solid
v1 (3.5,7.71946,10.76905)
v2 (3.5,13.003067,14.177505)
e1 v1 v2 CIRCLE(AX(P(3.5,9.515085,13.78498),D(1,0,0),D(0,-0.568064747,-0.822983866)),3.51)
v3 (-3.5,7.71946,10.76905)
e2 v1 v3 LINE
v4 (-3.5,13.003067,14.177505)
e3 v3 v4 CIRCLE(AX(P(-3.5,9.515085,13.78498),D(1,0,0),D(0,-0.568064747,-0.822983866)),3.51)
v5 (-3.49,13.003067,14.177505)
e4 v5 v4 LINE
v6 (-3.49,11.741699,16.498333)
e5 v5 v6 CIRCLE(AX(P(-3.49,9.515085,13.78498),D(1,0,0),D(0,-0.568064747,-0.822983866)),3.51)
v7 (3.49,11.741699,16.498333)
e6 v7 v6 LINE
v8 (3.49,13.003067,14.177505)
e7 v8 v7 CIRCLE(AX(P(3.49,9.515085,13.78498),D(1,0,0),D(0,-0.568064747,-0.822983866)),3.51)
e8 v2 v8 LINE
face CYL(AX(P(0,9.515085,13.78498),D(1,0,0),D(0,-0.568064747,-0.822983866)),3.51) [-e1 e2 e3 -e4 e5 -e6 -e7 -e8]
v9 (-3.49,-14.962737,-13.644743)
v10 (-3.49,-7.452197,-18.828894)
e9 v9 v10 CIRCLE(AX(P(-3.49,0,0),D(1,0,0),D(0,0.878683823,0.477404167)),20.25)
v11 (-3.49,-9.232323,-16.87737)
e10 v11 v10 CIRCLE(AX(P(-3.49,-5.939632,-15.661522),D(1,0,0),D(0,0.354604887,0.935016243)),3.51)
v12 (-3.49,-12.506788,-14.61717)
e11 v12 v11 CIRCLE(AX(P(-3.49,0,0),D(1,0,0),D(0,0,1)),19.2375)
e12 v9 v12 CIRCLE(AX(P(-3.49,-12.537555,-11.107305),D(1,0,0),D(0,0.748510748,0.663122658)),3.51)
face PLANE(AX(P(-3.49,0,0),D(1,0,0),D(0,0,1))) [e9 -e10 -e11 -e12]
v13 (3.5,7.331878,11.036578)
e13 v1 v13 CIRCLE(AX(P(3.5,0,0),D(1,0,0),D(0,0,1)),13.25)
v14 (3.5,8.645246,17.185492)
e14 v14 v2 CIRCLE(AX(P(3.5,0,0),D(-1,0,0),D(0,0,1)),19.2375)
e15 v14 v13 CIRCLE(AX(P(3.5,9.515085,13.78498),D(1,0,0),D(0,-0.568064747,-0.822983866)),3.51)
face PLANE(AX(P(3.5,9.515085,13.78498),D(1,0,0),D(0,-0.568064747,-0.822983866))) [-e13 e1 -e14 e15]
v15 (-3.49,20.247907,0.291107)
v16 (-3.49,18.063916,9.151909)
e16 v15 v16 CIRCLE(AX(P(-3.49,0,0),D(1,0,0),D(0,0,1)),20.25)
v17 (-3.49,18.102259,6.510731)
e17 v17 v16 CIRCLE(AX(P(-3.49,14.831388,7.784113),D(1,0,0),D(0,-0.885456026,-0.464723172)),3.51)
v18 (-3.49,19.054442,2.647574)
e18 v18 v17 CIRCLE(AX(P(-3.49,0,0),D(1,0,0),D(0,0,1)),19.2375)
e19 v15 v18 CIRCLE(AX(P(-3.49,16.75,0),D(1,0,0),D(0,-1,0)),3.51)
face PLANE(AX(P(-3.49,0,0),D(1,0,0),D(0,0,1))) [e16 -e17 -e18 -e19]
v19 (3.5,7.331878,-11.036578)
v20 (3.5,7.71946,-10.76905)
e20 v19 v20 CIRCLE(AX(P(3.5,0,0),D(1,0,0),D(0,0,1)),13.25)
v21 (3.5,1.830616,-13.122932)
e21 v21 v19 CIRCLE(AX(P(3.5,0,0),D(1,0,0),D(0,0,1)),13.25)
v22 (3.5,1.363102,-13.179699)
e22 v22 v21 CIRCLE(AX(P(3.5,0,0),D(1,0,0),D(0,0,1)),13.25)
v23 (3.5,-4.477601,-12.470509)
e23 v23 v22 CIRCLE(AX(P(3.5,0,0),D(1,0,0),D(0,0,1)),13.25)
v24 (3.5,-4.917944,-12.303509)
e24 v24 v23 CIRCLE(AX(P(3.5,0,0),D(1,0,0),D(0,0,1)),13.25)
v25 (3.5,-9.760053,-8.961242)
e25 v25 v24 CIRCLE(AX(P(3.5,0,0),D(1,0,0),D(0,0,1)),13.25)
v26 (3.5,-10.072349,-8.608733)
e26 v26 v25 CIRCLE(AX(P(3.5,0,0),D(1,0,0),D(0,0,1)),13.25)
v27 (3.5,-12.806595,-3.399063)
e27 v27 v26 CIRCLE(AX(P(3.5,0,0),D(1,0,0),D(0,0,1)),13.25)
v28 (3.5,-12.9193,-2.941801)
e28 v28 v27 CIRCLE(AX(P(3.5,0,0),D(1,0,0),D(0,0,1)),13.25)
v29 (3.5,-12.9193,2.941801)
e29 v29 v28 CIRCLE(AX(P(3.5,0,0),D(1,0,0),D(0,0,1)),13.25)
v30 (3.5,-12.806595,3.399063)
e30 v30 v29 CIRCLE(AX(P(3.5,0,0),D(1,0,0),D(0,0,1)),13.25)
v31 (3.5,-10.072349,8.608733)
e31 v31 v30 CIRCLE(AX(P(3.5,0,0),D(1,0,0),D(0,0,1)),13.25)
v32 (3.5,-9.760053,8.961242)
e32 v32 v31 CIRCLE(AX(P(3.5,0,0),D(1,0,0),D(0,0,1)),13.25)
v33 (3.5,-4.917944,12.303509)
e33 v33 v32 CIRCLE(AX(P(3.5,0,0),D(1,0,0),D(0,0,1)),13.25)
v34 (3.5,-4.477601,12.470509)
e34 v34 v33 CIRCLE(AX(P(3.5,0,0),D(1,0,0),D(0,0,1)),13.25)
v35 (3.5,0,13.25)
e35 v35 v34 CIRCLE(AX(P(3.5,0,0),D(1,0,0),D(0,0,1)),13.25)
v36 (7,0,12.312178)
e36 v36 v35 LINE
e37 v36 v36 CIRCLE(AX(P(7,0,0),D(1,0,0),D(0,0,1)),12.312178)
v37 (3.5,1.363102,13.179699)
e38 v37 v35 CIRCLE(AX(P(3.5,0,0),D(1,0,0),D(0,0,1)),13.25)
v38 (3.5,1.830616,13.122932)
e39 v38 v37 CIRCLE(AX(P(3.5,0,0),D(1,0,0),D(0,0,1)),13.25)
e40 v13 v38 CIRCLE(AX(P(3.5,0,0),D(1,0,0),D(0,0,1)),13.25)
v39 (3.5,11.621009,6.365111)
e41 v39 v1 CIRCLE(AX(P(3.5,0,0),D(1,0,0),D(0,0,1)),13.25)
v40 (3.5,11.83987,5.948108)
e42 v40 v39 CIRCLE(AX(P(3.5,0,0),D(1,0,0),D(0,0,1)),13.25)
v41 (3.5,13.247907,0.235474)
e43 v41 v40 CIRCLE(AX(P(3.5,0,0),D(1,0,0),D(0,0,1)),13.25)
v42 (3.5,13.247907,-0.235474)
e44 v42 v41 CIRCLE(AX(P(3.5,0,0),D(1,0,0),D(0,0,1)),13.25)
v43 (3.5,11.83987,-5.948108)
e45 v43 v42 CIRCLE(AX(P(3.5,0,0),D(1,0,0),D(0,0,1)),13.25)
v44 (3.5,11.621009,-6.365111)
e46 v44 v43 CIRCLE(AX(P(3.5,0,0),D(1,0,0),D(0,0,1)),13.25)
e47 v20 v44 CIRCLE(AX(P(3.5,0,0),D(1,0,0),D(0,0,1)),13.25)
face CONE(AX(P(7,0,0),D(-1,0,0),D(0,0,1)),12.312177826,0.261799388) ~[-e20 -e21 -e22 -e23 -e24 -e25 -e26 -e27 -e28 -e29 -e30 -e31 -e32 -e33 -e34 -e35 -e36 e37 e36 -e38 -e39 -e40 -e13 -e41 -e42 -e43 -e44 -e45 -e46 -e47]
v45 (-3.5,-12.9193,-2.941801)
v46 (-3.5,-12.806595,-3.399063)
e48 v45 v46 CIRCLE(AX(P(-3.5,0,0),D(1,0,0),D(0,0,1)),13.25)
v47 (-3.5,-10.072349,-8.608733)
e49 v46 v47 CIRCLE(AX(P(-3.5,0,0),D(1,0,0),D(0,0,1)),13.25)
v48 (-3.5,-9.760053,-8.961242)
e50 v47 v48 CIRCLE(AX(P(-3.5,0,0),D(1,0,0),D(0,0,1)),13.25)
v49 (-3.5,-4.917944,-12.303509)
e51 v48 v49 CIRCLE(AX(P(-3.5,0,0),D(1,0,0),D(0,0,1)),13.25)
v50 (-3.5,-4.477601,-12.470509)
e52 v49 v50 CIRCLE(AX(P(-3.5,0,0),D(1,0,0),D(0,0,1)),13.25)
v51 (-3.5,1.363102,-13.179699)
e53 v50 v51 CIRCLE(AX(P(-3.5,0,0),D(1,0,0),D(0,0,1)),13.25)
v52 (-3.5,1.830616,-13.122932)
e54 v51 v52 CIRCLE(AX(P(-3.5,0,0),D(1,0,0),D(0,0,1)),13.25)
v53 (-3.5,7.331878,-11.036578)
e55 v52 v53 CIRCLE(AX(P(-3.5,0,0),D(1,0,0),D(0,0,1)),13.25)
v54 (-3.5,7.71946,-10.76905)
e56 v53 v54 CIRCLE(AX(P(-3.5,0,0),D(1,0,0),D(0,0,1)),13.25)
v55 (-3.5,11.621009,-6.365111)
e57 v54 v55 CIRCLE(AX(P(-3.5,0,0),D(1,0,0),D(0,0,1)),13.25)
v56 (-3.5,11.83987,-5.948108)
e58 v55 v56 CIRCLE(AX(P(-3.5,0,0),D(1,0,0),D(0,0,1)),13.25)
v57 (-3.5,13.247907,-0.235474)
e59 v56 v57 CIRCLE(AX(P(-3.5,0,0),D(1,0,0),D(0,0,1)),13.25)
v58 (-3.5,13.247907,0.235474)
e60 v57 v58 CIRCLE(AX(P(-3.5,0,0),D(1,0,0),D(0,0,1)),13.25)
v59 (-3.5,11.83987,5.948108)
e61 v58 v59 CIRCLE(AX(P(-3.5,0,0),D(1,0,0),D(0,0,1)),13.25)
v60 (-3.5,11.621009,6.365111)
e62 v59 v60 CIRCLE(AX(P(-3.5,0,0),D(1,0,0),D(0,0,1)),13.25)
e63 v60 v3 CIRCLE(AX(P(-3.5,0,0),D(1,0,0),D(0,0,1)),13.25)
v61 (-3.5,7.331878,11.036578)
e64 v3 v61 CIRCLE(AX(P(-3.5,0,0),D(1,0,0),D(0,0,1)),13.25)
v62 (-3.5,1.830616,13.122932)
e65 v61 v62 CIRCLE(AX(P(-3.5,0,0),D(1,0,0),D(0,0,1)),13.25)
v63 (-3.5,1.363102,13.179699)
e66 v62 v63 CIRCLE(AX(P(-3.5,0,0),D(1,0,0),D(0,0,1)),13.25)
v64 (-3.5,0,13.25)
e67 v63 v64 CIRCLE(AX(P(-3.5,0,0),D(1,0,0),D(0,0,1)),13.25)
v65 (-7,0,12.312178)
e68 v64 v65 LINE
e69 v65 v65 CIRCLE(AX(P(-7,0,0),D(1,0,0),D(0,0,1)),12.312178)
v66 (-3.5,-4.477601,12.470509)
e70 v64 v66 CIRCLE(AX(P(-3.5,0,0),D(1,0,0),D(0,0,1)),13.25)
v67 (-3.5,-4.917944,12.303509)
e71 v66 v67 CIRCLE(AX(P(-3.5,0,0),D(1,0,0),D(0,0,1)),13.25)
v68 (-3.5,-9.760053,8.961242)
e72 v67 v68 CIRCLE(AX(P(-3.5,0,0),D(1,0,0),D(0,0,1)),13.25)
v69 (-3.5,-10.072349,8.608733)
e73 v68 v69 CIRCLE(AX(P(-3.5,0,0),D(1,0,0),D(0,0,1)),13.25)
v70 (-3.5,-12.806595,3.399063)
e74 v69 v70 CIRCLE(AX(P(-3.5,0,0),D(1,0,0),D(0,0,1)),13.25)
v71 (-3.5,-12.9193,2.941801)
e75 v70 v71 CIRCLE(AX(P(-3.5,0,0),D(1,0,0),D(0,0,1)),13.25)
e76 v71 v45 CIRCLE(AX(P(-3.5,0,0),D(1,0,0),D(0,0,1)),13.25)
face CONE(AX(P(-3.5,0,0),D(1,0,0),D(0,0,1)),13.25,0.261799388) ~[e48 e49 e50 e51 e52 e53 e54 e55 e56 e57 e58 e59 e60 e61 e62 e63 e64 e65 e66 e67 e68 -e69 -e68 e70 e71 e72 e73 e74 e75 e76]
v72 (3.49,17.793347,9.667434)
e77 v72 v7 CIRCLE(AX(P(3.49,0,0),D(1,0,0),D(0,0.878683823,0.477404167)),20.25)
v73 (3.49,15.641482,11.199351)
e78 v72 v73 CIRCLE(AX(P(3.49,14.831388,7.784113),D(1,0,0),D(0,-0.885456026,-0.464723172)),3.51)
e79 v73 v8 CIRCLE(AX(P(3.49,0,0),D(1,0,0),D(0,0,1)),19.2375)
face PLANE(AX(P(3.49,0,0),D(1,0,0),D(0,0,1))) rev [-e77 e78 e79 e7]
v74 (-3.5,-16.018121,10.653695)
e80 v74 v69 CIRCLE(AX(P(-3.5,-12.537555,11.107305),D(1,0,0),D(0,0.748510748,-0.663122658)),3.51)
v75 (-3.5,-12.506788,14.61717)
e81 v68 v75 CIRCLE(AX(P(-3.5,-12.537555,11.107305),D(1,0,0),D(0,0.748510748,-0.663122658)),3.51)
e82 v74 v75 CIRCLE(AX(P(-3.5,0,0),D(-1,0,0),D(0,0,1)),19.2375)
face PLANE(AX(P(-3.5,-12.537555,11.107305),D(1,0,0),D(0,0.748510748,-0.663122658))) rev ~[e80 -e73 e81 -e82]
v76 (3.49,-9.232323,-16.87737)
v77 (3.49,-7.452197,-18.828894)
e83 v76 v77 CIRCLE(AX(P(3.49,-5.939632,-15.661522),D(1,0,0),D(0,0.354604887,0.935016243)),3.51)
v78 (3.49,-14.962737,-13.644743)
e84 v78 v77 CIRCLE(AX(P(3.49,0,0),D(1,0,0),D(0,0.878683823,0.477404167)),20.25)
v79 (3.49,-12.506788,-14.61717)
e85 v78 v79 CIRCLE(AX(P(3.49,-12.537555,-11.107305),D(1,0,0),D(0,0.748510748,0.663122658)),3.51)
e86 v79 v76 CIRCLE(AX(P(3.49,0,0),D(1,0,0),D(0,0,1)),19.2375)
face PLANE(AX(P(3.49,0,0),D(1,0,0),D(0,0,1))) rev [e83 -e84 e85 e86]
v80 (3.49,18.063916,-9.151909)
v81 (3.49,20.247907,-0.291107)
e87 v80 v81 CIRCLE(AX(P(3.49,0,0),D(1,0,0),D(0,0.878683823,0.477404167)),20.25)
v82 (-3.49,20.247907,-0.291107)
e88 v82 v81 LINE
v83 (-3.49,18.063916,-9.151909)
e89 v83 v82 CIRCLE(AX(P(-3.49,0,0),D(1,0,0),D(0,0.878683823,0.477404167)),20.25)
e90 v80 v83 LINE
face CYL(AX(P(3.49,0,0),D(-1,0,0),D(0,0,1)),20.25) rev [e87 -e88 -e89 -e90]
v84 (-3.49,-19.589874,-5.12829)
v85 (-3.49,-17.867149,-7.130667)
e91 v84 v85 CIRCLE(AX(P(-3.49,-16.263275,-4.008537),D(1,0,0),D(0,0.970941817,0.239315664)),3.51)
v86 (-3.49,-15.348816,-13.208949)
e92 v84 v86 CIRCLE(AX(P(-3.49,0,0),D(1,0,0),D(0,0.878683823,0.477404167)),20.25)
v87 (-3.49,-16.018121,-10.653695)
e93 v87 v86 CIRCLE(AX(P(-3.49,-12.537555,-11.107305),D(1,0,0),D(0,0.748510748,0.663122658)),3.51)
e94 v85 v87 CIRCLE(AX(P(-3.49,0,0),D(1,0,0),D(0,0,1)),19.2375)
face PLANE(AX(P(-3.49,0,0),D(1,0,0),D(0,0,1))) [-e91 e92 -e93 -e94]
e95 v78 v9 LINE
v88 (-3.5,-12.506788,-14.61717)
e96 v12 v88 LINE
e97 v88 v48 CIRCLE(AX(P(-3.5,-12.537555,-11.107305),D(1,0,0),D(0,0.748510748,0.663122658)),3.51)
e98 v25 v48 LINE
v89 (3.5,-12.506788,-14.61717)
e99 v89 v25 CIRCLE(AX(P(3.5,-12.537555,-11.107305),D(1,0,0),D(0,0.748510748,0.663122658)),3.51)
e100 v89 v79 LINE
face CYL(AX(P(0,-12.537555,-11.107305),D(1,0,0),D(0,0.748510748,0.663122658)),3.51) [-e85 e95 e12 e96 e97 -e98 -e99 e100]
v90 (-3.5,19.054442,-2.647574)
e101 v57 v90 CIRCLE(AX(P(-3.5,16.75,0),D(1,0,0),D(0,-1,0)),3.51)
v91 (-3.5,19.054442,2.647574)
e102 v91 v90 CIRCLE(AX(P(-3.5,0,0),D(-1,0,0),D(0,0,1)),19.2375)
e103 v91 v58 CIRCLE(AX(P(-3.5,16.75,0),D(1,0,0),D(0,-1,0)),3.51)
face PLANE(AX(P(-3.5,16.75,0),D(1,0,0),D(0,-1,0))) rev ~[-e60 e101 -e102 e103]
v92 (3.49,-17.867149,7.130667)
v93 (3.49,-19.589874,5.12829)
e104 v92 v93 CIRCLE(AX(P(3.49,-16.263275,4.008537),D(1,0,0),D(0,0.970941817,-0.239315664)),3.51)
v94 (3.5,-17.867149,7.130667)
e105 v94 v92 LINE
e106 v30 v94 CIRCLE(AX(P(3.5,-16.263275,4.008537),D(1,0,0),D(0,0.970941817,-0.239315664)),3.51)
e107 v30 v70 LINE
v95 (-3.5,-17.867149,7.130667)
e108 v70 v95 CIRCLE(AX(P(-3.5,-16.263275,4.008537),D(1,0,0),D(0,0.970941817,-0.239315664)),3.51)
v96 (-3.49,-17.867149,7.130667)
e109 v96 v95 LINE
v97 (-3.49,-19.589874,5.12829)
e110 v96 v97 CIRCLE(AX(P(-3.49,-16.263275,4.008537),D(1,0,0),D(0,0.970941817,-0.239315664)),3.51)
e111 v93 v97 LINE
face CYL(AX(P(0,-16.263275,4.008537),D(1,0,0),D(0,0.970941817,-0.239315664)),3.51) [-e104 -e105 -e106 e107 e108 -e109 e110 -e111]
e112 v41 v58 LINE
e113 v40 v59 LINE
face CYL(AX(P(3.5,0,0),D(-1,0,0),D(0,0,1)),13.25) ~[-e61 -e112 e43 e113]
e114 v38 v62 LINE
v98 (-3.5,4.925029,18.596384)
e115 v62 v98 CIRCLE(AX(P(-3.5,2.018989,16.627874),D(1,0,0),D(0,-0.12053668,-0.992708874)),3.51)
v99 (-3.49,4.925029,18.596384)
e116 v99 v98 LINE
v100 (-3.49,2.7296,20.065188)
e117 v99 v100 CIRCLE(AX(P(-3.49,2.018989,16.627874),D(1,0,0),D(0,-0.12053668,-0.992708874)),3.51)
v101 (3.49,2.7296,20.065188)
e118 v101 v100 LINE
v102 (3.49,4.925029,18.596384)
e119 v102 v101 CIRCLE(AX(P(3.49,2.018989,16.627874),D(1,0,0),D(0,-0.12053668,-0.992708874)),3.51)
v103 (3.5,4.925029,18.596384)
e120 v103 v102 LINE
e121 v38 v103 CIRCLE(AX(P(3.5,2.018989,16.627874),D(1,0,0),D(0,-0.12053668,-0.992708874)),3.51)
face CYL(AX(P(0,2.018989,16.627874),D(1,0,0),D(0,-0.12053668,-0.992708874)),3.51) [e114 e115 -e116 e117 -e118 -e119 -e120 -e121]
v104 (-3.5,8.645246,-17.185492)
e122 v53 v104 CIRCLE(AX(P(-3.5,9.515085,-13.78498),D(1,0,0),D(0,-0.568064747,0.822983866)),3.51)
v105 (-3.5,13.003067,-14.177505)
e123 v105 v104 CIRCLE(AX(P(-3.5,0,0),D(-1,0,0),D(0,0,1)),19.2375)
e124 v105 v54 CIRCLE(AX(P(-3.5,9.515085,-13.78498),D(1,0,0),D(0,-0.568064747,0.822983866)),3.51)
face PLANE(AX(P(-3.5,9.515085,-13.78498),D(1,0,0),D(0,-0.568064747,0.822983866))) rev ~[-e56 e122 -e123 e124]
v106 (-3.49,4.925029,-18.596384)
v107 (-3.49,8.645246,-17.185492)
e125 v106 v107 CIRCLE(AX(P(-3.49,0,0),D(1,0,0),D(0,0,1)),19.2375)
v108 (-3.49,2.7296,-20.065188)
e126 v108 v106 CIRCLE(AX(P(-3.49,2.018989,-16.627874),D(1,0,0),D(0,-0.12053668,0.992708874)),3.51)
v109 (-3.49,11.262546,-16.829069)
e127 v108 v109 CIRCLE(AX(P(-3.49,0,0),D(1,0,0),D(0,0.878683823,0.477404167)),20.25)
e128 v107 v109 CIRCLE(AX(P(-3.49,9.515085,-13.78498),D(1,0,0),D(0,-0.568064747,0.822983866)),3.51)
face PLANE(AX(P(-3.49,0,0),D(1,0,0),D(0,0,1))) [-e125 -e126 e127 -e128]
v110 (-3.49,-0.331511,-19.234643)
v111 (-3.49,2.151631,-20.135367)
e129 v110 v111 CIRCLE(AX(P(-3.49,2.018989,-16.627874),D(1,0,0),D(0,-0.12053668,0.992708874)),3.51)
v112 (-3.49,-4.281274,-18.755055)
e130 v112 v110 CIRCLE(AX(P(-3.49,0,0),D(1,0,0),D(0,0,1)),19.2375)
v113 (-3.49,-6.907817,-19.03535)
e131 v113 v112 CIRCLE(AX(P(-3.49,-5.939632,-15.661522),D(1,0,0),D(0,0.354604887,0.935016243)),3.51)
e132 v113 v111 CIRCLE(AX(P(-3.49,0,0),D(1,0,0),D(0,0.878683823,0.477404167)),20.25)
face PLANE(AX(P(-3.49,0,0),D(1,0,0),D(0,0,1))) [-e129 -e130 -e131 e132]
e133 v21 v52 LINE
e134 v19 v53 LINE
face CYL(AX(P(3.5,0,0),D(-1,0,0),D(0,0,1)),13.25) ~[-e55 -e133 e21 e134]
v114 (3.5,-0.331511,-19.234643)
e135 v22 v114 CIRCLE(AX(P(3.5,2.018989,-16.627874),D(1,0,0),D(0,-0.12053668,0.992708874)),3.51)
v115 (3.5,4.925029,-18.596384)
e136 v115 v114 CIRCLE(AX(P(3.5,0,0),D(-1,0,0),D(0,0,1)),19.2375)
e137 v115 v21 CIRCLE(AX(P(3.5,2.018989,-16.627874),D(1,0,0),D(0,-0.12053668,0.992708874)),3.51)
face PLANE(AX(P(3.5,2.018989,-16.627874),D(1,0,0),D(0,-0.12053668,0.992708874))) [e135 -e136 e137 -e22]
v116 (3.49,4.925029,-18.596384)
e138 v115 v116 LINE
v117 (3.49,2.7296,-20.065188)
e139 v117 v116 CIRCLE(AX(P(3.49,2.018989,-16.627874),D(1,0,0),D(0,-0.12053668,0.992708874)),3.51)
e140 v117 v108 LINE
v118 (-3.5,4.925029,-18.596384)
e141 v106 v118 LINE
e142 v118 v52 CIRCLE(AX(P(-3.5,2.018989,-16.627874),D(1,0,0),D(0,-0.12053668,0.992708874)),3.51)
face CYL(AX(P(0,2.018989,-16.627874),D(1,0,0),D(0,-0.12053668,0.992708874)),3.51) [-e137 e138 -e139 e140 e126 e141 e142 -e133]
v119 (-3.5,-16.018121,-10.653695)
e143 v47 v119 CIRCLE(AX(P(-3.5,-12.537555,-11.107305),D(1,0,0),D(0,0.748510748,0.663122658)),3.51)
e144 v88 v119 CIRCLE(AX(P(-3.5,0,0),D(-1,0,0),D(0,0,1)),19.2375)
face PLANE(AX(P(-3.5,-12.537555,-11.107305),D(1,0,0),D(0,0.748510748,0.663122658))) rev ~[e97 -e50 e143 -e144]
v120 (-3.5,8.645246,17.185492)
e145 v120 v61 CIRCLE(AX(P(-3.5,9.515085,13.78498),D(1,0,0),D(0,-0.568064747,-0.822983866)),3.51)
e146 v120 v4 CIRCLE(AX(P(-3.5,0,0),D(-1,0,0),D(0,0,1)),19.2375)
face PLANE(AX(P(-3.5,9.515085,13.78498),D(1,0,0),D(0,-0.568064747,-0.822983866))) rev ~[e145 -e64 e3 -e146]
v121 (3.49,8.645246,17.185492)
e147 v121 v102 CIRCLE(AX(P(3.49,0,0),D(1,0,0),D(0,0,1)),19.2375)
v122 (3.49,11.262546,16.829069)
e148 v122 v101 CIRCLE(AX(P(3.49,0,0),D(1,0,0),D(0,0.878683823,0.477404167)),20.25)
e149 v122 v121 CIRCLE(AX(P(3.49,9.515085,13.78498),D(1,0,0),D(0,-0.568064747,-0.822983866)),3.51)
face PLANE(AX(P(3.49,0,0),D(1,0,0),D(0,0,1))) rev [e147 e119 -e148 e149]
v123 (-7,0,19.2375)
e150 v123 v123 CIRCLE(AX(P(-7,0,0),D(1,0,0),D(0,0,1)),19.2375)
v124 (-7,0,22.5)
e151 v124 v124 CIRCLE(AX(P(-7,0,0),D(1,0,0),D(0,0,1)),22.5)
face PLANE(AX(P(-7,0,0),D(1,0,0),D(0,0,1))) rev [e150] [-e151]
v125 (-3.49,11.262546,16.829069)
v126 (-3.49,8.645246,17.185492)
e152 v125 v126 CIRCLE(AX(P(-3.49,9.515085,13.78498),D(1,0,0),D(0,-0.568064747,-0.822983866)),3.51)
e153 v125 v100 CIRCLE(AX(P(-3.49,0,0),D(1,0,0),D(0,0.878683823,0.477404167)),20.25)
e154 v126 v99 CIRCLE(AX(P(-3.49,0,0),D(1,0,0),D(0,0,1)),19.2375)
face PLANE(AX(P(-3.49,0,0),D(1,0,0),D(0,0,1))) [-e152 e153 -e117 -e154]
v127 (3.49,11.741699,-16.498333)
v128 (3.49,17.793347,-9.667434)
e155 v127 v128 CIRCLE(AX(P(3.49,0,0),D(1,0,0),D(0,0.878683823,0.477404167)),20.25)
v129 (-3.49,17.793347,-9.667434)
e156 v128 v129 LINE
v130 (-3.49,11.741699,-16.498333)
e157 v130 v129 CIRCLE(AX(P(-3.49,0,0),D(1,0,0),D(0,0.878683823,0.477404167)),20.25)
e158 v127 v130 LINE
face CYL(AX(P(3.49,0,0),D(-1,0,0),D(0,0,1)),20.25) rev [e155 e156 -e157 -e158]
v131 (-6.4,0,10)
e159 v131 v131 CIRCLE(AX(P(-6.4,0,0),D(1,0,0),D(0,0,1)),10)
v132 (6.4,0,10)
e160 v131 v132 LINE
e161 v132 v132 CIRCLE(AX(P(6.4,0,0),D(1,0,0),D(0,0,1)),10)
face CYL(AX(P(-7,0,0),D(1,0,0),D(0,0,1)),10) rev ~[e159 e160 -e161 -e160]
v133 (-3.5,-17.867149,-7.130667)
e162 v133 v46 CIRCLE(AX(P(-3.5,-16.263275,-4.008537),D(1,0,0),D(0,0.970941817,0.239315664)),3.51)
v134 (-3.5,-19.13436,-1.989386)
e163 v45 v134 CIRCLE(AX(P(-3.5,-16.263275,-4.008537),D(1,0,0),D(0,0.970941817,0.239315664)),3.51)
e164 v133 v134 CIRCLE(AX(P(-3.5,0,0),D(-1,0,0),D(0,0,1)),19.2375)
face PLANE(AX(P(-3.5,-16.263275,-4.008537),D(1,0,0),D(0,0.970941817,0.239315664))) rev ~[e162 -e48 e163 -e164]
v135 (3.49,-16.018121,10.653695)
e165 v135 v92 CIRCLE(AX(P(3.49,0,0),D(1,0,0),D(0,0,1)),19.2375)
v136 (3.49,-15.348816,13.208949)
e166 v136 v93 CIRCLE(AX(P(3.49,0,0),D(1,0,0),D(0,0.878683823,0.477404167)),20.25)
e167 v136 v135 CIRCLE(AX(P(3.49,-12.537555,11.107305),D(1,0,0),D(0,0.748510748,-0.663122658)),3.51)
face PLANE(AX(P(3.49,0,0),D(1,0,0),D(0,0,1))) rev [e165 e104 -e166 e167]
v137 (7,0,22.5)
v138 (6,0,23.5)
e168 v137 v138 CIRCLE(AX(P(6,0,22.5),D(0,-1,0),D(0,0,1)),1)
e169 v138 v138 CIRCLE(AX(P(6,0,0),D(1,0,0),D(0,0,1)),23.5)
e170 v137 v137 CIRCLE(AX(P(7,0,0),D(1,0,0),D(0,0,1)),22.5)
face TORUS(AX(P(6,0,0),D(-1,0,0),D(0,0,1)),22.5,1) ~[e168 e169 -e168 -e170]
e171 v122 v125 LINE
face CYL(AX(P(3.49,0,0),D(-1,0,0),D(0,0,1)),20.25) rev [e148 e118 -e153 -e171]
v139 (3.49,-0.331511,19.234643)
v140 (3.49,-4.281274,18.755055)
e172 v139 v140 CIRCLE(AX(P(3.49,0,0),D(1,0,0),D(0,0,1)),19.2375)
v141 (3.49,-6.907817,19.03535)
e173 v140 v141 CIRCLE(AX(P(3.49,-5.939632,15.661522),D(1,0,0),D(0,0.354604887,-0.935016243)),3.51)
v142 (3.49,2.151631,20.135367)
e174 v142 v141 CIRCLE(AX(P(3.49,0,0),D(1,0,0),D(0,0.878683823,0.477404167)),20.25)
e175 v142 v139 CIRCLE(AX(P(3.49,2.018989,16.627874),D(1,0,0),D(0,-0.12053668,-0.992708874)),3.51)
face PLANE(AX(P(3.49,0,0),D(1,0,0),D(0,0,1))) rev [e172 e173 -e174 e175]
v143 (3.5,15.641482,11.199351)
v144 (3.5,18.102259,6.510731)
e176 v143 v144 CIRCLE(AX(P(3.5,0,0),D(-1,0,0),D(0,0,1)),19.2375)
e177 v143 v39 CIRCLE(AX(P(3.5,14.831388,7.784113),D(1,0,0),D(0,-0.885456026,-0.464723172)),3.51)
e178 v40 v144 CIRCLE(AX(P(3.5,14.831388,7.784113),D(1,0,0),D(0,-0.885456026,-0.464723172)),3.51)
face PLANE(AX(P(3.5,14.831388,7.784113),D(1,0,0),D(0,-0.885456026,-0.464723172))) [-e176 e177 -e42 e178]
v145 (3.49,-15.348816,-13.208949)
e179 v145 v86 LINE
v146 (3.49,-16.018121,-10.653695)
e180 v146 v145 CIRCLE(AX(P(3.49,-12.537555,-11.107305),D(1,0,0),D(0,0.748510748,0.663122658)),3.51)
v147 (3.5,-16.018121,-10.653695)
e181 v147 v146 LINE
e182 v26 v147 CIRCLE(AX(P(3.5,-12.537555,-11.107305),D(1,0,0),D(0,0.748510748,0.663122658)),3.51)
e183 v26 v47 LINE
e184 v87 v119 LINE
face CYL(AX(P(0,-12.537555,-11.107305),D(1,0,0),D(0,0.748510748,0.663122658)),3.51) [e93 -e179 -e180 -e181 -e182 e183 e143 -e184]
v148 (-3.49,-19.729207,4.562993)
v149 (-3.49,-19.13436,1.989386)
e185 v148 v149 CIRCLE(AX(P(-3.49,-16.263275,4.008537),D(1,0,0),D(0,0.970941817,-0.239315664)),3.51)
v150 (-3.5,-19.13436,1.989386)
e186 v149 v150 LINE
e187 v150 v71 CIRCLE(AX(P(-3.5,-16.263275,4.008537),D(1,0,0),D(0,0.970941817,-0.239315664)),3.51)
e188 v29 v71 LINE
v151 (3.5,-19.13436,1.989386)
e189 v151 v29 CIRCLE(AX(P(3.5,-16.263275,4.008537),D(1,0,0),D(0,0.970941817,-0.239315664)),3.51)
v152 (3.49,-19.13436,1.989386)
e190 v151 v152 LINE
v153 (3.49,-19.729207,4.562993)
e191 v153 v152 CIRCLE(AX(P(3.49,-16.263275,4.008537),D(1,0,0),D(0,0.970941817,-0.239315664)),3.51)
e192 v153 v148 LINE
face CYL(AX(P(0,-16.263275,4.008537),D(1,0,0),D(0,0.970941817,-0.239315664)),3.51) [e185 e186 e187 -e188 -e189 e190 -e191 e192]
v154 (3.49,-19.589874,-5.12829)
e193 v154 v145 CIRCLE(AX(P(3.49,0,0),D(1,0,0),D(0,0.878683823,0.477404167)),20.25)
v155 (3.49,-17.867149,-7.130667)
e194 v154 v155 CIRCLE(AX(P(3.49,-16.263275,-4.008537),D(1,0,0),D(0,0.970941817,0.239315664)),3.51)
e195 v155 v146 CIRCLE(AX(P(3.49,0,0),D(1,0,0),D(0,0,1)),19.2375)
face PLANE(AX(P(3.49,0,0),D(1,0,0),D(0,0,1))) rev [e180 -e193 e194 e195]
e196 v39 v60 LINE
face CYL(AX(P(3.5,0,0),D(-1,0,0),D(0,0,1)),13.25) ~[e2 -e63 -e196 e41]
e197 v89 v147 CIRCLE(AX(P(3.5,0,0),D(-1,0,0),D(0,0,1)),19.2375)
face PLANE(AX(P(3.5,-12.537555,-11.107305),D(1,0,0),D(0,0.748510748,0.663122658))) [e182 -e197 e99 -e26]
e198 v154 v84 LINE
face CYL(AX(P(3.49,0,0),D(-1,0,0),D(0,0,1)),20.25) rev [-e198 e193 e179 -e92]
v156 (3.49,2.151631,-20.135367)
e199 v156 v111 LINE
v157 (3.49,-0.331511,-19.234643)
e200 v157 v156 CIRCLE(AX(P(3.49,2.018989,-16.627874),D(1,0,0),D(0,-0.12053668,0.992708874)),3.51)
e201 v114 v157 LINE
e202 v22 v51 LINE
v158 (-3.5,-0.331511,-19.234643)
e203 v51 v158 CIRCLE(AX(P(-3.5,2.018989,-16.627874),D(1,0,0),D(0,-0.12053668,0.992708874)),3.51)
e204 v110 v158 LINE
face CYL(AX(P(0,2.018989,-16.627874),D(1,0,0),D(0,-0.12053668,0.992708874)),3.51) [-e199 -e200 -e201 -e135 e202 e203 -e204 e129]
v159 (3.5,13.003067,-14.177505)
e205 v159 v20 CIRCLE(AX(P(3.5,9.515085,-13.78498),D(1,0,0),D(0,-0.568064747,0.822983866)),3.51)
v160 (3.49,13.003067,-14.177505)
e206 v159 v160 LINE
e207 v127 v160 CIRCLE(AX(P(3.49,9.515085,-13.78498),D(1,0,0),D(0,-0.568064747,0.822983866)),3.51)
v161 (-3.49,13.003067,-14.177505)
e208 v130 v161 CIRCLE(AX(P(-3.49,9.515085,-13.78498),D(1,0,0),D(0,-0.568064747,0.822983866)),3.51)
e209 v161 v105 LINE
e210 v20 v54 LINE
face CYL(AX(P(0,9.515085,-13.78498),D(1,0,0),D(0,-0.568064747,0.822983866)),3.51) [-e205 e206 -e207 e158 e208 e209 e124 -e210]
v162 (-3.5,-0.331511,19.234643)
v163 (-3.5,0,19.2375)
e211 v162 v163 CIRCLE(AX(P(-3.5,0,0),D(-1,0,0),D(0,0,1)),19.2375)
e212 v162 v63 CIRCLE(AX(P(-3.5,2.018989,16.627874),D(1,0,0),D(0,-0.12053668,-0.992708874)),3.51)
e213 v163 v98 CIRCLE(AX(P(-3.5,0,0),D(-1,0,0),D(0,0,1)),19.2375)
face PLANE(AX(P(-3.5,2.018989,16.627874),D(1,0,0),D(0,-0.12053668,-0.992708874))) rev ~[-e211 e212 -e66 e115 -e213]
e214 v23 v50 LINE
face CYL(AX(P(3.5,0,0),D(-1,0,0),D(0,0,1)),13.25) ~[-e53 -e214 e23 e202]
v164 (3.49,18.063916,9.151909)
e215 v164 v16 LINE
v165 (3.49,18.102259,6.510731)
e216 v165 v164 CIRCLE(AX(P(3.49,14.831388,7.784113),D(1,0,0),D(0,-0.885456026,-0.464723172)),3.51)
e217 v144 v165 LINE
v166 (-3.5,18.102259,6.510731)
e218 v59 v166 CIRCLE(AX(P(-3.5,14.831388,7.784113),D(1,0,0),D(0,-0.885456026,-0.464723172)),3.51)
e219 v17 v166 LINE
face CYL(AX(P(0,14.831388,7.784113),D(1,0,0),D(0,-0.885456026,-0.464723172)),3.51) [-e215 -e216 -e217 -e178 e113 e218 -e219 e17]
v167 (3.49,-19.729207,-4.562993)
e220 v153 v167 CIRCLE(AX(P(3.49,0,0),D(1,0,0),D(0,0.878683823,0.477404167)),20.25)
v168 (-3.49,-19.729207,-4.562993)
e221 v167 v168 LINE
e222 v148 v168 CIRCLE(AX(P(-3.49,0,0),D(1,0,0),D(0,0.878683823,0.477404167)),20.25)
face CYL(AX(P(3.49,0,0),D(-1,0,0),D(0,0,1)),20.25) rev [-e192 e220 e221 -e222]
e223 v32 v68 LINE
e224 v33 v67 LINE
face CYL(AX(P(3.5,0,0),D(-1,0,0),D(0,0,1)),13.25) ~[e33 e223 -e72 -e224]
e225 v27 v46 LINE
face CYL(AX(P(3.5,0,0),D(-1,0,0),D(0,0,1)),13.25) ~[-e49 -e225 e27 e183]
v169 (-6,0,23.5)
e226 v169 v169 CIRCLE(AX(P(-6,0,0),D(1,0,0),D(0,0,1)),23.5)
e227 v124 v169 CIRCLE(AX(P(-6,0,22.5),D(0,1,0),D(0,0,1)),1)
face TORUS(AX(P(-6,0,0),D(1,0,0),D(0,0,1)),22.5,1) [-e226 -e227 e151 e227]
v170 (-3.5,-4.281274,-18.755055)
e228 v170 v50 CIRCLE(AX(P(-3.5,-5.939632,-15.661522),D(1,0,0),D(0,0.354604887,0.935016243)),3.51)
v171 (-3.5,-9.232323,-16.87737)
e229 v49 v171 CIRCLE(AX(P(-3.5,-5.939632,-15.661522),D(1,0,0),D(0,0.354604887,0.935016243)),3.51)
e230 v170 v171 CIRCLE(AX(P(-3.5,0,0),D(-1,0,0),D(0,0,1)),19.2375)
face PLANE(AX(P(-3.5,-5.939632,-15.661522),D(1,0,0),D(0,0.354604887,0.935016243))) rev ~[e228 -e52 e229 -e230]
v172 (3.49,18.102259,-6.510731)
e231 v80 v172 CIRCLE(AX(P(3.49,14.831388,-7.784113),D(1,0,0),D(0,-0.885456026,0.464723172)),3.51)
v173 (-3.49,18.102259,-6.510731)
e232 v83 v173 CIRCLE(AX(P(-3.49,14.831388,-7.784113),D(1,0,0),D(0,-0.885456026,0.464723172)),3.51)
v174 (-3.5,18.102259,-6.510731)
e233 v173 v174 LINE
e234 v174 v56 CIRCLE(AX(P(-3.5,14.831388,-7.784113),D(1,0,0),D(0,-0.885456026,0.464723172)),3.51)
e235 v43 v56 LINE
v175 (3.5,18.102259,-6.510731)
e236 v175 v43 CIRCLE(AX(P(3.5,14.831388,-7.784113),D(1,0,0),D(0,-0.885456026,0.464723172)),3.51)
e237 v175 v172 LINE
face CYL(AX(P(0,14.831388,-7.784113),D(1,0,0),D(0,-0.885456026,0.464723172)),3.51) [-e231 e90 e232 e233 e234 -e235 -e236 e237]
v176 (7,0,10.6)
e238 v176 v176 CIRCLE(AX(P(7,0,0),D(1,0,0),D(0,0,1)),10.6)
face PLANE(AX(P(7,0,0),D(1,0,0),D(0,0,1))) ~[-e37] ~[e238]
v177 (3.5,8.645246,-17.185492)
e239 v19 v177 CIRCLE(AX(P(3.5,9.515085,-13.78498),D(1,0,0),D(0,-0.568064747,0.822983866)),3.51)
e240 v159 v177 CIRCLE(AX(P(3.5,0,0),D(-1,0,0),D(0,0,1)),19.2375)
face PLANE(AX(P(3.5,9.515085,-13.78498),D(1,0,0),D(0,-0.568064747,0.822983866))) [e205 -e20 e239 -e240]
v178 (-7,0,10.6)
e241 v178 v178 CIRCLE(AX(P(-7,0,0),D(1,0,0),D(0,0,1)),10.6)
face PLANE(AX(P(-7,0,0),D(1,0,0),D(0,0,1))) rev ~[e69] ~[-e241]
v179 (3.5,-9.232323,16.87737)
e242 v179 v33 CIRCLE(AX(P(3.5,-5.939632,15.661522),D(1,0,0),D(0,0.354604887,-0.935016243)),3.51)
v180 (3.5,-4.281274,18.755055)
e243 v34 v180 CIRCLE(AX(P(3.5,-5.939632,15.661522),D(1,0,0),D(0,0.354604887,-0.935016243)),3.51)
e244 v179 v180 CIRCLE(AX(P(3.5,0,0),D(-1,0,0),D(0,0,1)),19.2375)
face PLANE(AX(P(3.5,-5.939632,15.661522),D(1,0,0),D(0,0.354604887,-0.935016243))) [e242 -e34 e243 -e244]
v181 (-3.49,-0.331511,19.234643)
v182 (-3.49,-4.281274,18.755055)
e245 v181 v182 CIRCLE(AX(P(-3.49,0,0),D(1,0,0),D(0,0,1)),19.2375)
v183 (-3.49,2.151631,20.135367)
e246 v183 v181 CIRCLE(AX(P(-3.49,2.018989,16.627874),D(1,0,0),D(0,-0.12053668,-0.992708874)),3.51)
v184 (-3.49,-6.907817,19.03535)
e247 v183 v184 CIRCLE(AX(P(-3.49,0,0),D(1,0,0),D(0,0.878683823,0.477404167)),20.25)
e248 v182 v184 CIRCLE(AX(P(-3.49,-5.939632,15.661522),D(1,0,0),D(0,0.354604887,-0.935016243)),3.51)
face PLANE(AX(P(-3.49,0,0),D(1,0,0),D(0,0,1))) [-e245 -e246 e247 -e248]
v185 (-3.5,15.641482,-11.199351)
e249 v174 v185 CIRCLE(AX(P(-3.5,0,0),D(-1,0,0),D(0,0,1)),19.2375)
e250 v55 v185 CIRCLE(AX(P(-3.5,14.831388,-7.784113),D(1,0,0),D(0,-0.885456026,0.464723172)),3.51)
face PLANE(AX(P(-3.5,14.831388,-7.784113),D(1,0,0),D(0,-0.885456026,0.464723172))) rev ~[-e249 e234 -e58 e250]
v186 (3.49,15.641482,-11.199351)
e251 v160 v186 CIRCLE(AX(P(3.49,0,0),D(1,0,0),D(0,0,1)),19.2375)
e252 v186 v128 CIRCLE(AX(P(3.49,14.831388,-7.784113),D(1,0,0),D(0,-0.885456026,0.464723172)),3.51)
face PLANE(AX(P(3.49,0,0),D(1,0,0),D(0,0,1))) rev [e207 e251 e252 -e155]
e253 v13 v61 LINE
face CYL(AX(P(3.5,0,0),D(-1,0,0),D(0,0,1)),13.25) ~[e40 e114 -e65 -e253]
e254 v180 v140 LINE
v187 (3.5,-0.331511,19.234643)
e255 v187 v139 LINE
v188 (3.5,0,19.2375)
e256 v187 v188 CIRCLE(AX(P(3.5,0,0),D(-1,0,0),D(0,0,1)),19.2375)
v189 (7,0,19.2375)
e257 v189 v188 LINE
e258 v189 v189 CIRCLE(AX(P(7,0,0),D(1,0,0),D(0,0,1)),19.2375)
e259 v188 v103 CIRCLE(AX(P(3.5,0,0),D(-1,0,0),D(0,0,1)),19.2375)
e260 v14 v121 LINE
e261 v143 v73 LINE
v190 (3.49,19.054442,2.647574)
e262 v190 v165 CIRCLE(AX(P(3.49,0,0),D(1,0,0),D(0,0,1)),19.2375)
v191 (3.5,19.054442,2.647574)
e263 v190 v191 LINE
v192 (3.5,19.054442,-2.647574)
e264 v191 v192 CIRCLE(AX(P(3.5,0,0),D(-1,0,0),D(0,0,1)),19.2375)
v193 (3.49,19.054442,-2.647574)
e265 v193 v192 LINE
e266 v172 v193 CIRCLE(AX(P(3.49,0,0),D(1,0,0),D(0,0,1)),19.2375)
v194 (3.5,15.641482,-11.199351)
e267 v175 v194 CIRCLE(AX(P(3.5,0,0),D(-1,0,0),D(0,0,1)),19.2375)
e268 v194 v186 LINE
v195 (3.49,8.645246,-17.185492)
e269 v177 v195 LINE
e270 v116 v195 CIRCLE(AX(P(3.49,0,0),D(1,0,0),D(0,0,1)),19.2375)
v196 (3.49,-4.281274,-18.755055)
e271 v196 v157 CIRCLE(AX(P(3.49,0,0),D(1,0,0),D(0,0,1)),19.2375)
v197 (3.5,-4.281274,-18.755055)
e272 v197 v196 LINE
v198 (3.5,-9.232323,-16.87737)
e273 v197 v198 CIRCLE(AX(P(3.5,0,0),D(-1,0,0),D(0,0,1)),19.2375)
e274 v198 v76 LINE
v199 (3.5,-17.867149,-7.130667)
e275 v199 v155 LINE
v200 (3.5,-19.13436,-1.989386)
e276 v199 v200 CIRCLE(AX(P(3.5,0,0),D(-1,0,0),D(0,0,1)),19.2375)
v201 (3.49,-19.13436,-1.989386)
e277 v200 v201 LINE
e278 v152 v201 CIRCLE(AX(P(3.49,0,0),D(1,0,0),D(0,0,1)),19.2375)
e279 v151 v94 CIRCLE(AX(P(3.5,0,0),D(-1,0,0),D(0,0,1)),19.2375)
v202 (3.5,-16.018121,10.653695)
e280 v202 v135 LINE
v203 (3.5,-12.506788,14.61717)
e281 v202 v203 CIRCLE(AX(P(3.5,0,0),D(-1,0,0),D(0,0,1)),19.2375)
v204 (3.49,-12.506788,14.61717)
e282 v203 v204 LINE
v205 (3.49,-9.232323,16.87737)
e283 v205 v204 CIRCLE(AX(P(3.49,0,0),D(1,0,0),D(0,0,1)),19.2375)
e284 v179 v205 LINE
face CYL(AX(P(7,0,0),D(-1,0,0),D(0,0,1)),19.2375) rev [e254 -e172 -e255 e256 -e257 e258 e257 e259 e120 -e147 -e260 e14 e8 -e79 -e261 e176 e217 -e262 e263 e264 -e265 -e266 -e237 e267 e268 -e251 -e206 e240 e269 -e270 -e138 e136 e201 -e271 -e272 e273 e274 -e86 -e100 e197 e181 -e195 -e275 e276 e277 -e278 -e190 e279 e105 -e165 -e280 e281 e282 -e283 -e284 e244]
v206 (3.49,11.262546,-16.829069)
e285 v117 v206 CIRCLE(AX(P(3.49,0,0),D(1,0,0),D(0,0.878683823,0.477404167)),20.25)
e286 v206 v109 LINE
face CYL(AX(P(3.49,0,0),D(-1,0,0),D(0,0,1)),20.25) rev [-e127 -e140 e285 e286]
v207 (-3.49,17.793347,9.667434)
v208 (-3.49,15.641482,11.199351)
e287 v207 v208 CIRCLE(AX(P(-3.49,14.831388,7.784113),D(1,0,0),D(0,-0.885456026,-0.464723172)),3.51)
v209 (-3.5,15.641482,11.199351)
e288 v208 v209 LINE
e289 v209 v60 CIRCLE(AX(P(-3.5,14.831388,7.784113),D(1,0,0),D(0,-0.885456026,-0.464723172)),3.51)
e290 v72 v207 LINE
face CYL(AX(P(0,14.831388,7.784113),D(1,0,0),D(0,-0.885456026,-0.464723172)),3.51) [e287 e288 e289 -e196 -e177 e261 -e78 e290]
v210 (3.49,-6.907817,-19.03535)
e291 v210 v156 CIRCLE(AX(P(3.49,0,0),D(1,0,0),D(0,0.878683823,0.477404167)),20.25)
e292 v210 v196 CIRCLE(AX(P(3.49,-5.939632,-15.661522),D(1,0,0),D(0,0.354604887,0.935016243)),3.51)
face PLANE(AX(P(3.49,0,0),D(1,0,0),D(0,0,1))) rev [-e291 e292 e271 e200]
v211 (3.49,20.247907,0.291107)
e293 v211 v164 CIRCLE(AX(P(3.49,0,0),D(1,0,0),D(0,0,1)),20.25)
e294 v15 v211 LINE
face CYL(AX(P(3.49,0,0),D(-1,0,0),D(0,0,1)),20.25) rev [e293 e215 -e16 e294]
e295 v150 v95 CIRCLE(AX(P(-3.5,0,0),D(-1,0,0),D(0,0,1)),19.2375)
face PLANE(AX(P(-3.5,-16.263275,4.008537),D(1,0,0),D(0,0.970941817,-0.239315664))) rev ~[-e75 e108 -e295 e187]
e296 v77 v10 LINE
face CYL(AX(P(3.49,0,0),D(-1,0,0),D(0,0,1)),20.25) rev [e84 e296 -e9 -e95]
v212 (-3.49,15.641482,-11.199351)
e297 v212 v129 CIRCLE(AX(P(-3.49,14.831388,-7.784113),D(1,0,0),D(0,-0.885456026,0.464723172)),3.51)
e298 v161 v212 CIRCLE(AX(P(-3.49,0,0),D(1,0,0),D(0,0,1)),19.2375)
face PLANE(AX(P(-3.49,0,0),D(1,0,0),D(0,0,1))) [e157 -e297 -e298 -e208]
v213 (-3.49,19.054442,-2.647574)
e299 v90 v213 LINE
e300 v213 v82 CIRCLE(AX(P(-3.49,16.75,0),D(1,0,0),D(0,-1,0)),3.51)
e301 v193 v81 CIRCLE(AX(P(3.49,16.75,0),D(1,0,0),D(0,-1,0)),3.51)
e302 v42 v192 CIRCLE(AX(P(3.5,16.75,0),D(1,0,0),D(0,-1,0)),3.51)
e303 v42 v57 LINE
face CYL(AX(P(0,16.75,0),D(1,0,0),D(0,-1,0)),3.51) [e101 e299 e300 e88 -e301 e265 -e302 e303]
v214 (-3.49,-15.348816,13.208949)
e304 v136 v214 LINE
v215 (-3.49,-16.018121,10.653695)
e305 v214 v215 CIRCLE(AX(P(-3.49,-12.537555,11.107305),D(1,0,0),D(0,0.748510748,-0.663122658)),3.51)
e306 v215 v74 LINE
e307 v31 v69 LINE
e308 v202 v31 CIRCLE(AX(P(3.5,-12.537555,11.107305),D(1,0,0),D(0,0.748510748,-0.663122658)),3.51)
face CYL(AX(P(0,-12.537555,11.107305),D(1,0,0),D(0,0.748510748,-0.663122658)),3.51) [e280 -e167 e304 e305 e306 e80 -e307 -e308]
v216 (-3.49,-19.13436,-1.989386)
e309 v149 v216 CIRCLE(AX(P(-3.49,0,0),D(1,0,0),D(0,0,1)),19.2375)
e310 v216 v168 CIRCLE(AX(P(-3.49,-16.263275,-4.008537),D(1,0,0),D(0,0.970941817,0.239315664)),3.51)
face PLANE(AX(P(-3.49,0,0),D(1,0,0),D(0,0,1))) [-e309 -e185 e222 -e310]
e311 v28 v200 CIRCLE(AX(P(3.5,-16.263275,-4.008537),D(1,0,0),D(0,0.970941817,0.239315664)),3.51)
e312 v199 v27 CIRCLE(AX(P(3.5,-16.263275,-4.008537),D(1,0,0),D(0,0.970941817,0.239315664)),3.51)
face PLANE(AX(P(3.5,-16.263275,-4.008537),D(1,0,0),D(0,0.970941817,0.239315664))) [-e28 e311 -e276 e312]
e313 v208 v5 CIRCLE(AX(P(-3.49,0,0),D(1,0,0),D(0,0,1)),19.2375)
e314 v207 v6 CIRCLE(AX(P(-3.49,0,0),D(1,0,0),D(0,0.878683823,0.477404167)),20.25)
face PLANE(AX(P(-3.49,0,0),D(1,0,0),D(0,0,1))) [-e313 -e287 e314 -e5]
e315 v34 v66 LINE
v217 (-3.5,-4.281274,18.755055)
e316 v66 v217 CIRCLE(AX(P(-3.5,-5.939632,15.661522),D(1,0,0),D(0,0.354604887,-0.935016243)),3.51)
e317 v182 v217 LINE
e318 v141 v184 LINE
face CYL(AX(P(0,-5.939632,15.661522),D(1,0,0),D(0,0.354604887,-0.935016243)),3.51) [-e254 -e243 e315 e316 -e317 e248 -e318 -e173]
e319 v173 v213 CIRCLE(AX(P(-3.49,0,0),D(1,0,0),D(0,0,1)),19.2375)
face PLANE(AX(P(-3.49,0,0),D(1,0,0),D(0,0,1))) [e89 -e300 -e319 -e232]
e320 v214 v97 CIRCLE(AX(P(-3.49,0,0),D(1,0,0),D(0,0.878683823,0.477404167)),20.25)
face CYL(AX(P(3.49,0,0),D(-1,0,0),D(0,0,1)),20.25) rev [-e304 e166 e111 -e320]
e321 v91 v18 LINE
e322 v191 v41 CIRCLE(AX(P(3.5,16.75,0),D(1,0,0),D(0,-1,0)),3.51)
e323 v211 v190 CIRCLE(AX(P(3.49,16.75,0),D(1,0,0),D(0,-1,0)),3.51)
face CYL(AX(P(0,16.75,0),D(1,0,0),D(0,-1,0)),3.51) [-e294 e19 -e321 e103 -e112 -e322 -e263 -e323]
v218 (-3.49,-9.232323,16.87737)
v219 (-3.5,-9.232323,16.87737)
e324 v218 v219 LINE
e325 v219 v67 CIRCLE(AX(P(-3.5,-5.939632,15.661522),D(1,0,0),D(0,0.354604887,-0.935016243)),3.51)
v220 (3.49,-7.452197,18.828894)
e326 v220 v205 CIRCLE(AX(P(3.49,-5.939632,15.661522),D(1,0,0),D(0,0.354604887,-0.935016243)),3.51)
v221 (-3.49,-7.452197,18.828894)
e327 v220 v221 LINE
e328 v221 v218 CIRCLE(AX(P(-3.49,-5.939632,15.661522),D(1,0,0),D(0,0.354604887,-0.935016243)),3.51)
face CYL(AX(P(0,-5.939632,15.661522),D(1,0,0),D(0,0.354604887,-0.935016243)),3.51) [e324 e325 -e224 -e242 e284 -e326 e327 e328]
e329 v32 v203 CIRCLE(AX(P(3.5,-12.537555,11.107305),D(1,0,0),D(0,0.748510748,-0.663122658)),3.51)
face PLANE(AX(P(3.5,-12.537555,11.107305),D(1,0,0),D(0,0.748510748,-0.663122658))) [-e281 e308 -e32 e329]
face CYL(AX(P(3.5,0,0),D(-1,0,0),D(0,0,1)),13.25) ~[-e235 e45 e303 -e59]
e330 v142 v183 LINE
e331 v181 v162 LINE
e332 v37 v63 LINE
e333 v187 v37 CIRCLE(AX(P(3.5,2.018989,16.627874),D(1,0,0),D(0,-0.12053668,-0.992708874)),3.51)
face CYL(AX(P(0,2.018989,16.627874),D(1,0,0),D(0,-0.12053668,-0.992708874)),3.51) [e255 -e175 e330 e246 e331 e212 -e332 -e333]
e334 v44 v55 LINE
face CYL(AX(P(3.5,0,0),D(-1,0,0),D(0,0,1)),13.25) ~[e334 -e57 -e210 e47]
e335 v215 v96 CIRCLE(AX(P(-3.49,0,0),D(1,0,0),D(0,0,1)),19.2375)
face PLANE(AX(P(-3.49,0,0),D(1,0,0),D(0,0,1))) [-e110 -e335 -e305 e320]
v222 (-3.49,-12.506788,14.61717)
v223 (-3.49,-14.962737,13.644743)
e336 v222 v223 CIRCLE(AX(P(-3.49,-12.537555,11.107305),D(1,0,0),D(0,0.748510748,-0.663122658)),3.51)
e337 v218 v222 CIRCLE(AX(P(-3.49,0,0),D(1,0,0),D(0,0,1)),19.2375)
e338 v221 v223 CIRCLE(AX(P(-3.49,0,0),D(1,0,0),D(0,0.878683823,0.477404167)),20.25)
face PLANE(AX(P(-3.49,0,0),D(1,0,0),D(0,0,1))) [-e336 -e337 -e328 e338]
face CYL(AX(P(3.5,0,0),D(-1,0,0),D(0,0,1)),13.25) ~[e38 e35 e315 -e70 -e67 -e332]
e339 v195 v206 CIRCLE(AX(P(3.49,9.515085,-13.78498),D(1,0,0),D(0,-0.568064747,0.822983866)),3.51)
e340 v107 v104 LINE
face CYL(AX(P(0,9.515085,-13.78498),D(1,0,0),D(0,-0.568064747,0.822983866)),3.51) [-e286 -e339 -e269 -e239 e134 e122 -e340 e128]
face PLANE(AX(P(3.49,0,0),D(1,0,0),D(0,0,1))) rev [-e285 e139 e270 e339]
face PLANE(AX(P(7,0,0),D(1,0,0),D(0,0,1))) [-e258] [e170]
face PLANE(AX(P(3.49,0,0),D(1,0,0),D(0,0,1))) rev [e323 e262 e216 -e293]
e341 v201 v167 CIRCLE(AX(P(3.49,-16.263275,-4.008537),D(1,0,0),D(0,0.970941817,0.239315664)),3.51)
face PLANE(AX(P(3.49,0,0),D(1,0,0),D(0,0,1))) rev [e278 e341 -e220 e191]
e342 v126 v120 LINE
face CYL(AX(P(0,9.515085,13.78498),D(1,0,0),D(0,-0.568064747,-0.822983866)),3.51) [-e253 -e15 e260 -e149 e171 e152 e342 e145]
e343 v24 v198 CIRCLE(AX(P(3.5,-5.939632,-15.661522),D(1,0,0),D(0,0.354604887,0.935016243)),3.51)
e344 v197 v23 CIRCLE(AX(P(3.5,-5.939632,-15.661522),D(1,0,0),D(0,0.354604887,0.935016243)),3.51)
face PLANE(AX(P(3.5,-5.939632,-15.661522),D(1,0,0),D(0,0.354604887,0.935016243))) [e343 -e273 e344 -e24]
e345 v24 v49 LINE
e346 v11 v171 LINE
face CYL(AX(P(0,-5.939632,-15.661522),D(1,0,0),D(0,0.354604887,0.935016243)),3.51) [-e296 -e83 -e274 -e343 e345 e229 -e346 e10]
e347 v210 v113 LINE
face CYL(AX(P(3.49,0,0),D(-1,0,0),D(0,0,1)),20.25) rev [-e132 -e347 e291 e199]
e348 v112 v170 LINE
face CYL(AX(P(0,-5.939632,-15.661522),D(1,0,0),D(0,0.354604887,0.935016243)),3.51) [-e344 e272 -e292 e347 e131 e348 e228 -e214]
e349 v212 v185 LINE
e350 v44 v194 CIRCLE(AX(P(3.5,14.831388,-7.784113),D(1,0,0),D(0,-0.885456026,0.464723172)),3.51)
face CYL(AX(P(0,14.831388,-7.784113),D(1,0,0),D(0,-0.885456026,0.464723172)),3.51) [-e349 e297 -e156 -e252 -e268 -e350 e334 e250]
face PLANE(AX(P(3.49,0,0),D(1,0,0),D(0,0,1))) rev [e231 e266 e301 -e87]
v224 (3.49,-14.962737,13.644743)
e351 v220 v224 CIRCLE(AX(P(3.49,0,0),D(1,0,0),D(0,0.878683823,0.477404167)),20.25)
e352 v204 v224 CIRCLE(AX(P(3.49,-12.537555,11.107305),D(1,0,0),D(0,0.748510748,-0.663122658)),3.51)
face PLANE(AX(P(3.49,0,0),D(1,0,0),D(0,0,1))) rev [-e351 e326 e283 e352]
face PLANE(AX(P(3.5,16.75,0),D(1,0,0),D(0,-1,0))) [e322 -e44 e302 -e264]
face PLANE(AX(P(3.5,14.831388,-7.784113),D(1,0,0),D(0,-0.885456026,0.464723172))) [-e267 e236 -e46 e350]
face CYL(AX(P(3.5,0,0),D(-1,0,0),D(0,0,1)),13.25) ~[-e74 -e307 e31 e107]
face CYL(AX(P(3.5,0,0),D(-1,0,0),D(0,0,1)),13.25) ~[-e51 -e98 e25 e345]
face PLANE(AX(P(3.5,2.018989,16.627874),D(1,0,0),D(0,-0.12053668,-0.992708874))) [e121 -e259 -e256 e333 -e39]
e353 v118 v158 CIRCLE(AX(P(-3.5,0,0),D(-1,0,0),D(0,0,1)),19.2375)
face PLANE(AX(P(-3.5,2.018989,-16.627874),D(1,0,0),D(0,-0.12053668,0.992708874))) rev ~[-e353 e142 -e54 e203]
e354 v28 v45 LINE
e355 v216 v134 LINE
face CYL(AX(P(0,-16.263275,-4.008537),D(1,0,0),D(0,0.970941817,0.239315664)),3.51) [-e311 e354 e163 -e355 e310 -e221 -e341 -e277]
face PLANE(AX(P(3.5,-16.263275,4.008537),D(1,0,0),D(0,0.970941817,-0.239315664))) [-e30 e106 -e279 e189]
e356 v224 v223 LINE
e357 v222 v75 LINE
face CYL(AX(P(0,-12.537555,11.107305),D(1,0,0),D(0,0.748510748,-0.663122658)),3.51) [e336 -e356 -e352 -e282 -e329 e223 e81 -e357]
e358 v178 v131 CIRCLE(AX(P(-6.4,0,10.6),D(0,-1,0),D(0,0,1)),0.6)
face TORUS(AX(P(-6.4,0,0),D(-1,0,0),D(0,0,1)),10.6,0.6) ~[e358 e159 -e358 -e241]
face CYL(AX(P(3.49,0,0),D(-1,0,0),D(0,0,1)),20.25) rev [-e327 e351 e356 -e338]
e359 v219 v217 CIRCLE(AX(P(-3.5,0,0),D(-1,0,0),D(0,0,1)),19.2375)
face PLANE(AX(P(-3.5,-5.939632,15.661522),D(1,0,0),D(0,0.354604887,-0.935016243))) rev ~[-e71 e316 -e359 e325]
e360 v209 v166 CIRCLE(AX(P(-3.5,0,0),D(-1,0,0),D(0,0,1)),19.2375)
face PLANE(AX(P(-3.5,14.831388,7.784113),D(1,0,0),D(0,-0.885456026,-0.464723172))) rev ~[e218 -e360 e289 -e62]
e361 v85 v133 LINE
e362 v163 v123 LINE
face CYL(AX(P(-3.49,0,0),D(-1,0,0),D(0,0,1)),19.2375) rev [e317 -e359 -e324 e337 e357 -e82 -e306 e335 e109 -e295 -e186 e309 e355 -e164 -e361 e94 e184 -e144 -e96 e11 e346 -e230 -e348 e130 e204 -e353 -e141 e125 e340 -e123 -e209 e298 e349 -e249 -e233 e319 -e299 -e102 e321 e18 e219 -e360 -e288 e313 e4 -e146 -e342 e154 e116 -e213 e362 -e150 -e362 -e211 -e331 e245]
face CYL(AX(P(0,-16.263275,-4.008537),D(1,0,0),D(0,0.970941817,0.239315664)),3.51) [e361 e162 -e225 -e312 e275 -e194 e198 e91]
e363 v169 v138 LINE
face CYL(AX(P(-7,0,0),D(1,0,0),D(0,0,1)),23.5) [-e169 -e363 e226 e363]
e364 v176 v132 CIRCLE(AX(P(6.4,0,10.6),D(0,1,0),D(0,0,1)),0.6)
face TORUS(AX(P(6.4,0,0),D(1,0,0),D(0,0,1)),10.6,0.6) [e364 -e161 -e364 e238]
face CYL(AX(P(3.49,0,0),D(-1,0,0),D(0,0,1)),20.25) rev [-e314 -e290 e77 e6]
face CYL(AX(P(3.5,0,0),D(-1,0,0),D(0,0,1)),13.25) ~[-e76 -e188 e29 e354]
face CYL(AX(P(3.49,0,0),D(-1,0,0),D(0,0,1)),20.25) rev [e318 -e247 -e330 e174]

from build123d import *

# Parameters (mm, degrees)
SKETCH2_W               = 7
SKETCH2_H               = 3.51
CIRCULAR_PATTERN1_COUNT = 13
FILLET1_R               = 1
FILLET2_R               = 0.6


with BuildPart() as part:
    # Sketch1 → Revolve1 (revolve)
    with BuildSketch(Plane.XY, mode=Mode.PRIVATE) as revolve1_sk:
        Polygon((-7, 10), (7, 10), (7, 12.312177826), (3.5, 13.25), (-3.5, 13.25), (-7, 12.312177826), align=None)
    revolve(revolve1_sk.sketch.rotate(Axis((-10.137871204, 0, 0), (1, 0, 0)), 90), axis=Axis((-10.137871204, 0, 0), (1, 0, 0)))

    # Sketch2 → Revolve2 (revolve)
    with BuildSketch(Plane.XY):
        with Locations((0, 14.995)):
            Rectangle(SKETCH2_W, SKETCH2_H)
    revolve2 = revolve(axis=Axis((-7.422783257, 16.75, 0), (1, 0, 0)))

    # Sketch3 → Revolve3 (revolve)
    with BuildSketch(Plane.XY, mode=Mode.PRIVATE) as revolve3_sk:
        Polygon((-7, 23.5), (7, 23.5), (7, 19.2375), (3.49, 19.2375), (3.49, 20.25), (-3.49, 20.25), (-3.49, 19.2375), (-7, 19.2375), align=None)
    revolve(revolve3_sk.sketch.rotate(Axis((-9.082213196, 0, 0), (1, 0, 0)), 90), axis=Axis((-9.082213196, 0, 0), (1, 0, 0)))

    # Circular-Pattern1: Revolve2 ×13 about axis
    circular_pattern1_axis = Axis((0, 0, 0), (1, 0, 0))
    for i in range(1, CIRCULAR_PATTERN1_COUNT):
        add(revolve2.rotate(circular_pattern1_axis, i * 360 / CIRCULAR_PATTERN1_COUNT))

    # Fillet1
    fillet1_edges = [part.edges().sort_by_distance(p)[0] for p in [
        (-7, 0, -23.5),
        (7, 0, -23.5),
    ]]
    fillet(fillet1_edges, radius=FILLET1_R)

    # Fillet2
    fillet2_edges = [part.edges().sort_by_distance(p)[0] for p in [
        (7, 0, -10),
        (-7, 0, -10),
    ]]
    fillet(fillet2_edges, radius=FILLET2_R)


solid = part.part
